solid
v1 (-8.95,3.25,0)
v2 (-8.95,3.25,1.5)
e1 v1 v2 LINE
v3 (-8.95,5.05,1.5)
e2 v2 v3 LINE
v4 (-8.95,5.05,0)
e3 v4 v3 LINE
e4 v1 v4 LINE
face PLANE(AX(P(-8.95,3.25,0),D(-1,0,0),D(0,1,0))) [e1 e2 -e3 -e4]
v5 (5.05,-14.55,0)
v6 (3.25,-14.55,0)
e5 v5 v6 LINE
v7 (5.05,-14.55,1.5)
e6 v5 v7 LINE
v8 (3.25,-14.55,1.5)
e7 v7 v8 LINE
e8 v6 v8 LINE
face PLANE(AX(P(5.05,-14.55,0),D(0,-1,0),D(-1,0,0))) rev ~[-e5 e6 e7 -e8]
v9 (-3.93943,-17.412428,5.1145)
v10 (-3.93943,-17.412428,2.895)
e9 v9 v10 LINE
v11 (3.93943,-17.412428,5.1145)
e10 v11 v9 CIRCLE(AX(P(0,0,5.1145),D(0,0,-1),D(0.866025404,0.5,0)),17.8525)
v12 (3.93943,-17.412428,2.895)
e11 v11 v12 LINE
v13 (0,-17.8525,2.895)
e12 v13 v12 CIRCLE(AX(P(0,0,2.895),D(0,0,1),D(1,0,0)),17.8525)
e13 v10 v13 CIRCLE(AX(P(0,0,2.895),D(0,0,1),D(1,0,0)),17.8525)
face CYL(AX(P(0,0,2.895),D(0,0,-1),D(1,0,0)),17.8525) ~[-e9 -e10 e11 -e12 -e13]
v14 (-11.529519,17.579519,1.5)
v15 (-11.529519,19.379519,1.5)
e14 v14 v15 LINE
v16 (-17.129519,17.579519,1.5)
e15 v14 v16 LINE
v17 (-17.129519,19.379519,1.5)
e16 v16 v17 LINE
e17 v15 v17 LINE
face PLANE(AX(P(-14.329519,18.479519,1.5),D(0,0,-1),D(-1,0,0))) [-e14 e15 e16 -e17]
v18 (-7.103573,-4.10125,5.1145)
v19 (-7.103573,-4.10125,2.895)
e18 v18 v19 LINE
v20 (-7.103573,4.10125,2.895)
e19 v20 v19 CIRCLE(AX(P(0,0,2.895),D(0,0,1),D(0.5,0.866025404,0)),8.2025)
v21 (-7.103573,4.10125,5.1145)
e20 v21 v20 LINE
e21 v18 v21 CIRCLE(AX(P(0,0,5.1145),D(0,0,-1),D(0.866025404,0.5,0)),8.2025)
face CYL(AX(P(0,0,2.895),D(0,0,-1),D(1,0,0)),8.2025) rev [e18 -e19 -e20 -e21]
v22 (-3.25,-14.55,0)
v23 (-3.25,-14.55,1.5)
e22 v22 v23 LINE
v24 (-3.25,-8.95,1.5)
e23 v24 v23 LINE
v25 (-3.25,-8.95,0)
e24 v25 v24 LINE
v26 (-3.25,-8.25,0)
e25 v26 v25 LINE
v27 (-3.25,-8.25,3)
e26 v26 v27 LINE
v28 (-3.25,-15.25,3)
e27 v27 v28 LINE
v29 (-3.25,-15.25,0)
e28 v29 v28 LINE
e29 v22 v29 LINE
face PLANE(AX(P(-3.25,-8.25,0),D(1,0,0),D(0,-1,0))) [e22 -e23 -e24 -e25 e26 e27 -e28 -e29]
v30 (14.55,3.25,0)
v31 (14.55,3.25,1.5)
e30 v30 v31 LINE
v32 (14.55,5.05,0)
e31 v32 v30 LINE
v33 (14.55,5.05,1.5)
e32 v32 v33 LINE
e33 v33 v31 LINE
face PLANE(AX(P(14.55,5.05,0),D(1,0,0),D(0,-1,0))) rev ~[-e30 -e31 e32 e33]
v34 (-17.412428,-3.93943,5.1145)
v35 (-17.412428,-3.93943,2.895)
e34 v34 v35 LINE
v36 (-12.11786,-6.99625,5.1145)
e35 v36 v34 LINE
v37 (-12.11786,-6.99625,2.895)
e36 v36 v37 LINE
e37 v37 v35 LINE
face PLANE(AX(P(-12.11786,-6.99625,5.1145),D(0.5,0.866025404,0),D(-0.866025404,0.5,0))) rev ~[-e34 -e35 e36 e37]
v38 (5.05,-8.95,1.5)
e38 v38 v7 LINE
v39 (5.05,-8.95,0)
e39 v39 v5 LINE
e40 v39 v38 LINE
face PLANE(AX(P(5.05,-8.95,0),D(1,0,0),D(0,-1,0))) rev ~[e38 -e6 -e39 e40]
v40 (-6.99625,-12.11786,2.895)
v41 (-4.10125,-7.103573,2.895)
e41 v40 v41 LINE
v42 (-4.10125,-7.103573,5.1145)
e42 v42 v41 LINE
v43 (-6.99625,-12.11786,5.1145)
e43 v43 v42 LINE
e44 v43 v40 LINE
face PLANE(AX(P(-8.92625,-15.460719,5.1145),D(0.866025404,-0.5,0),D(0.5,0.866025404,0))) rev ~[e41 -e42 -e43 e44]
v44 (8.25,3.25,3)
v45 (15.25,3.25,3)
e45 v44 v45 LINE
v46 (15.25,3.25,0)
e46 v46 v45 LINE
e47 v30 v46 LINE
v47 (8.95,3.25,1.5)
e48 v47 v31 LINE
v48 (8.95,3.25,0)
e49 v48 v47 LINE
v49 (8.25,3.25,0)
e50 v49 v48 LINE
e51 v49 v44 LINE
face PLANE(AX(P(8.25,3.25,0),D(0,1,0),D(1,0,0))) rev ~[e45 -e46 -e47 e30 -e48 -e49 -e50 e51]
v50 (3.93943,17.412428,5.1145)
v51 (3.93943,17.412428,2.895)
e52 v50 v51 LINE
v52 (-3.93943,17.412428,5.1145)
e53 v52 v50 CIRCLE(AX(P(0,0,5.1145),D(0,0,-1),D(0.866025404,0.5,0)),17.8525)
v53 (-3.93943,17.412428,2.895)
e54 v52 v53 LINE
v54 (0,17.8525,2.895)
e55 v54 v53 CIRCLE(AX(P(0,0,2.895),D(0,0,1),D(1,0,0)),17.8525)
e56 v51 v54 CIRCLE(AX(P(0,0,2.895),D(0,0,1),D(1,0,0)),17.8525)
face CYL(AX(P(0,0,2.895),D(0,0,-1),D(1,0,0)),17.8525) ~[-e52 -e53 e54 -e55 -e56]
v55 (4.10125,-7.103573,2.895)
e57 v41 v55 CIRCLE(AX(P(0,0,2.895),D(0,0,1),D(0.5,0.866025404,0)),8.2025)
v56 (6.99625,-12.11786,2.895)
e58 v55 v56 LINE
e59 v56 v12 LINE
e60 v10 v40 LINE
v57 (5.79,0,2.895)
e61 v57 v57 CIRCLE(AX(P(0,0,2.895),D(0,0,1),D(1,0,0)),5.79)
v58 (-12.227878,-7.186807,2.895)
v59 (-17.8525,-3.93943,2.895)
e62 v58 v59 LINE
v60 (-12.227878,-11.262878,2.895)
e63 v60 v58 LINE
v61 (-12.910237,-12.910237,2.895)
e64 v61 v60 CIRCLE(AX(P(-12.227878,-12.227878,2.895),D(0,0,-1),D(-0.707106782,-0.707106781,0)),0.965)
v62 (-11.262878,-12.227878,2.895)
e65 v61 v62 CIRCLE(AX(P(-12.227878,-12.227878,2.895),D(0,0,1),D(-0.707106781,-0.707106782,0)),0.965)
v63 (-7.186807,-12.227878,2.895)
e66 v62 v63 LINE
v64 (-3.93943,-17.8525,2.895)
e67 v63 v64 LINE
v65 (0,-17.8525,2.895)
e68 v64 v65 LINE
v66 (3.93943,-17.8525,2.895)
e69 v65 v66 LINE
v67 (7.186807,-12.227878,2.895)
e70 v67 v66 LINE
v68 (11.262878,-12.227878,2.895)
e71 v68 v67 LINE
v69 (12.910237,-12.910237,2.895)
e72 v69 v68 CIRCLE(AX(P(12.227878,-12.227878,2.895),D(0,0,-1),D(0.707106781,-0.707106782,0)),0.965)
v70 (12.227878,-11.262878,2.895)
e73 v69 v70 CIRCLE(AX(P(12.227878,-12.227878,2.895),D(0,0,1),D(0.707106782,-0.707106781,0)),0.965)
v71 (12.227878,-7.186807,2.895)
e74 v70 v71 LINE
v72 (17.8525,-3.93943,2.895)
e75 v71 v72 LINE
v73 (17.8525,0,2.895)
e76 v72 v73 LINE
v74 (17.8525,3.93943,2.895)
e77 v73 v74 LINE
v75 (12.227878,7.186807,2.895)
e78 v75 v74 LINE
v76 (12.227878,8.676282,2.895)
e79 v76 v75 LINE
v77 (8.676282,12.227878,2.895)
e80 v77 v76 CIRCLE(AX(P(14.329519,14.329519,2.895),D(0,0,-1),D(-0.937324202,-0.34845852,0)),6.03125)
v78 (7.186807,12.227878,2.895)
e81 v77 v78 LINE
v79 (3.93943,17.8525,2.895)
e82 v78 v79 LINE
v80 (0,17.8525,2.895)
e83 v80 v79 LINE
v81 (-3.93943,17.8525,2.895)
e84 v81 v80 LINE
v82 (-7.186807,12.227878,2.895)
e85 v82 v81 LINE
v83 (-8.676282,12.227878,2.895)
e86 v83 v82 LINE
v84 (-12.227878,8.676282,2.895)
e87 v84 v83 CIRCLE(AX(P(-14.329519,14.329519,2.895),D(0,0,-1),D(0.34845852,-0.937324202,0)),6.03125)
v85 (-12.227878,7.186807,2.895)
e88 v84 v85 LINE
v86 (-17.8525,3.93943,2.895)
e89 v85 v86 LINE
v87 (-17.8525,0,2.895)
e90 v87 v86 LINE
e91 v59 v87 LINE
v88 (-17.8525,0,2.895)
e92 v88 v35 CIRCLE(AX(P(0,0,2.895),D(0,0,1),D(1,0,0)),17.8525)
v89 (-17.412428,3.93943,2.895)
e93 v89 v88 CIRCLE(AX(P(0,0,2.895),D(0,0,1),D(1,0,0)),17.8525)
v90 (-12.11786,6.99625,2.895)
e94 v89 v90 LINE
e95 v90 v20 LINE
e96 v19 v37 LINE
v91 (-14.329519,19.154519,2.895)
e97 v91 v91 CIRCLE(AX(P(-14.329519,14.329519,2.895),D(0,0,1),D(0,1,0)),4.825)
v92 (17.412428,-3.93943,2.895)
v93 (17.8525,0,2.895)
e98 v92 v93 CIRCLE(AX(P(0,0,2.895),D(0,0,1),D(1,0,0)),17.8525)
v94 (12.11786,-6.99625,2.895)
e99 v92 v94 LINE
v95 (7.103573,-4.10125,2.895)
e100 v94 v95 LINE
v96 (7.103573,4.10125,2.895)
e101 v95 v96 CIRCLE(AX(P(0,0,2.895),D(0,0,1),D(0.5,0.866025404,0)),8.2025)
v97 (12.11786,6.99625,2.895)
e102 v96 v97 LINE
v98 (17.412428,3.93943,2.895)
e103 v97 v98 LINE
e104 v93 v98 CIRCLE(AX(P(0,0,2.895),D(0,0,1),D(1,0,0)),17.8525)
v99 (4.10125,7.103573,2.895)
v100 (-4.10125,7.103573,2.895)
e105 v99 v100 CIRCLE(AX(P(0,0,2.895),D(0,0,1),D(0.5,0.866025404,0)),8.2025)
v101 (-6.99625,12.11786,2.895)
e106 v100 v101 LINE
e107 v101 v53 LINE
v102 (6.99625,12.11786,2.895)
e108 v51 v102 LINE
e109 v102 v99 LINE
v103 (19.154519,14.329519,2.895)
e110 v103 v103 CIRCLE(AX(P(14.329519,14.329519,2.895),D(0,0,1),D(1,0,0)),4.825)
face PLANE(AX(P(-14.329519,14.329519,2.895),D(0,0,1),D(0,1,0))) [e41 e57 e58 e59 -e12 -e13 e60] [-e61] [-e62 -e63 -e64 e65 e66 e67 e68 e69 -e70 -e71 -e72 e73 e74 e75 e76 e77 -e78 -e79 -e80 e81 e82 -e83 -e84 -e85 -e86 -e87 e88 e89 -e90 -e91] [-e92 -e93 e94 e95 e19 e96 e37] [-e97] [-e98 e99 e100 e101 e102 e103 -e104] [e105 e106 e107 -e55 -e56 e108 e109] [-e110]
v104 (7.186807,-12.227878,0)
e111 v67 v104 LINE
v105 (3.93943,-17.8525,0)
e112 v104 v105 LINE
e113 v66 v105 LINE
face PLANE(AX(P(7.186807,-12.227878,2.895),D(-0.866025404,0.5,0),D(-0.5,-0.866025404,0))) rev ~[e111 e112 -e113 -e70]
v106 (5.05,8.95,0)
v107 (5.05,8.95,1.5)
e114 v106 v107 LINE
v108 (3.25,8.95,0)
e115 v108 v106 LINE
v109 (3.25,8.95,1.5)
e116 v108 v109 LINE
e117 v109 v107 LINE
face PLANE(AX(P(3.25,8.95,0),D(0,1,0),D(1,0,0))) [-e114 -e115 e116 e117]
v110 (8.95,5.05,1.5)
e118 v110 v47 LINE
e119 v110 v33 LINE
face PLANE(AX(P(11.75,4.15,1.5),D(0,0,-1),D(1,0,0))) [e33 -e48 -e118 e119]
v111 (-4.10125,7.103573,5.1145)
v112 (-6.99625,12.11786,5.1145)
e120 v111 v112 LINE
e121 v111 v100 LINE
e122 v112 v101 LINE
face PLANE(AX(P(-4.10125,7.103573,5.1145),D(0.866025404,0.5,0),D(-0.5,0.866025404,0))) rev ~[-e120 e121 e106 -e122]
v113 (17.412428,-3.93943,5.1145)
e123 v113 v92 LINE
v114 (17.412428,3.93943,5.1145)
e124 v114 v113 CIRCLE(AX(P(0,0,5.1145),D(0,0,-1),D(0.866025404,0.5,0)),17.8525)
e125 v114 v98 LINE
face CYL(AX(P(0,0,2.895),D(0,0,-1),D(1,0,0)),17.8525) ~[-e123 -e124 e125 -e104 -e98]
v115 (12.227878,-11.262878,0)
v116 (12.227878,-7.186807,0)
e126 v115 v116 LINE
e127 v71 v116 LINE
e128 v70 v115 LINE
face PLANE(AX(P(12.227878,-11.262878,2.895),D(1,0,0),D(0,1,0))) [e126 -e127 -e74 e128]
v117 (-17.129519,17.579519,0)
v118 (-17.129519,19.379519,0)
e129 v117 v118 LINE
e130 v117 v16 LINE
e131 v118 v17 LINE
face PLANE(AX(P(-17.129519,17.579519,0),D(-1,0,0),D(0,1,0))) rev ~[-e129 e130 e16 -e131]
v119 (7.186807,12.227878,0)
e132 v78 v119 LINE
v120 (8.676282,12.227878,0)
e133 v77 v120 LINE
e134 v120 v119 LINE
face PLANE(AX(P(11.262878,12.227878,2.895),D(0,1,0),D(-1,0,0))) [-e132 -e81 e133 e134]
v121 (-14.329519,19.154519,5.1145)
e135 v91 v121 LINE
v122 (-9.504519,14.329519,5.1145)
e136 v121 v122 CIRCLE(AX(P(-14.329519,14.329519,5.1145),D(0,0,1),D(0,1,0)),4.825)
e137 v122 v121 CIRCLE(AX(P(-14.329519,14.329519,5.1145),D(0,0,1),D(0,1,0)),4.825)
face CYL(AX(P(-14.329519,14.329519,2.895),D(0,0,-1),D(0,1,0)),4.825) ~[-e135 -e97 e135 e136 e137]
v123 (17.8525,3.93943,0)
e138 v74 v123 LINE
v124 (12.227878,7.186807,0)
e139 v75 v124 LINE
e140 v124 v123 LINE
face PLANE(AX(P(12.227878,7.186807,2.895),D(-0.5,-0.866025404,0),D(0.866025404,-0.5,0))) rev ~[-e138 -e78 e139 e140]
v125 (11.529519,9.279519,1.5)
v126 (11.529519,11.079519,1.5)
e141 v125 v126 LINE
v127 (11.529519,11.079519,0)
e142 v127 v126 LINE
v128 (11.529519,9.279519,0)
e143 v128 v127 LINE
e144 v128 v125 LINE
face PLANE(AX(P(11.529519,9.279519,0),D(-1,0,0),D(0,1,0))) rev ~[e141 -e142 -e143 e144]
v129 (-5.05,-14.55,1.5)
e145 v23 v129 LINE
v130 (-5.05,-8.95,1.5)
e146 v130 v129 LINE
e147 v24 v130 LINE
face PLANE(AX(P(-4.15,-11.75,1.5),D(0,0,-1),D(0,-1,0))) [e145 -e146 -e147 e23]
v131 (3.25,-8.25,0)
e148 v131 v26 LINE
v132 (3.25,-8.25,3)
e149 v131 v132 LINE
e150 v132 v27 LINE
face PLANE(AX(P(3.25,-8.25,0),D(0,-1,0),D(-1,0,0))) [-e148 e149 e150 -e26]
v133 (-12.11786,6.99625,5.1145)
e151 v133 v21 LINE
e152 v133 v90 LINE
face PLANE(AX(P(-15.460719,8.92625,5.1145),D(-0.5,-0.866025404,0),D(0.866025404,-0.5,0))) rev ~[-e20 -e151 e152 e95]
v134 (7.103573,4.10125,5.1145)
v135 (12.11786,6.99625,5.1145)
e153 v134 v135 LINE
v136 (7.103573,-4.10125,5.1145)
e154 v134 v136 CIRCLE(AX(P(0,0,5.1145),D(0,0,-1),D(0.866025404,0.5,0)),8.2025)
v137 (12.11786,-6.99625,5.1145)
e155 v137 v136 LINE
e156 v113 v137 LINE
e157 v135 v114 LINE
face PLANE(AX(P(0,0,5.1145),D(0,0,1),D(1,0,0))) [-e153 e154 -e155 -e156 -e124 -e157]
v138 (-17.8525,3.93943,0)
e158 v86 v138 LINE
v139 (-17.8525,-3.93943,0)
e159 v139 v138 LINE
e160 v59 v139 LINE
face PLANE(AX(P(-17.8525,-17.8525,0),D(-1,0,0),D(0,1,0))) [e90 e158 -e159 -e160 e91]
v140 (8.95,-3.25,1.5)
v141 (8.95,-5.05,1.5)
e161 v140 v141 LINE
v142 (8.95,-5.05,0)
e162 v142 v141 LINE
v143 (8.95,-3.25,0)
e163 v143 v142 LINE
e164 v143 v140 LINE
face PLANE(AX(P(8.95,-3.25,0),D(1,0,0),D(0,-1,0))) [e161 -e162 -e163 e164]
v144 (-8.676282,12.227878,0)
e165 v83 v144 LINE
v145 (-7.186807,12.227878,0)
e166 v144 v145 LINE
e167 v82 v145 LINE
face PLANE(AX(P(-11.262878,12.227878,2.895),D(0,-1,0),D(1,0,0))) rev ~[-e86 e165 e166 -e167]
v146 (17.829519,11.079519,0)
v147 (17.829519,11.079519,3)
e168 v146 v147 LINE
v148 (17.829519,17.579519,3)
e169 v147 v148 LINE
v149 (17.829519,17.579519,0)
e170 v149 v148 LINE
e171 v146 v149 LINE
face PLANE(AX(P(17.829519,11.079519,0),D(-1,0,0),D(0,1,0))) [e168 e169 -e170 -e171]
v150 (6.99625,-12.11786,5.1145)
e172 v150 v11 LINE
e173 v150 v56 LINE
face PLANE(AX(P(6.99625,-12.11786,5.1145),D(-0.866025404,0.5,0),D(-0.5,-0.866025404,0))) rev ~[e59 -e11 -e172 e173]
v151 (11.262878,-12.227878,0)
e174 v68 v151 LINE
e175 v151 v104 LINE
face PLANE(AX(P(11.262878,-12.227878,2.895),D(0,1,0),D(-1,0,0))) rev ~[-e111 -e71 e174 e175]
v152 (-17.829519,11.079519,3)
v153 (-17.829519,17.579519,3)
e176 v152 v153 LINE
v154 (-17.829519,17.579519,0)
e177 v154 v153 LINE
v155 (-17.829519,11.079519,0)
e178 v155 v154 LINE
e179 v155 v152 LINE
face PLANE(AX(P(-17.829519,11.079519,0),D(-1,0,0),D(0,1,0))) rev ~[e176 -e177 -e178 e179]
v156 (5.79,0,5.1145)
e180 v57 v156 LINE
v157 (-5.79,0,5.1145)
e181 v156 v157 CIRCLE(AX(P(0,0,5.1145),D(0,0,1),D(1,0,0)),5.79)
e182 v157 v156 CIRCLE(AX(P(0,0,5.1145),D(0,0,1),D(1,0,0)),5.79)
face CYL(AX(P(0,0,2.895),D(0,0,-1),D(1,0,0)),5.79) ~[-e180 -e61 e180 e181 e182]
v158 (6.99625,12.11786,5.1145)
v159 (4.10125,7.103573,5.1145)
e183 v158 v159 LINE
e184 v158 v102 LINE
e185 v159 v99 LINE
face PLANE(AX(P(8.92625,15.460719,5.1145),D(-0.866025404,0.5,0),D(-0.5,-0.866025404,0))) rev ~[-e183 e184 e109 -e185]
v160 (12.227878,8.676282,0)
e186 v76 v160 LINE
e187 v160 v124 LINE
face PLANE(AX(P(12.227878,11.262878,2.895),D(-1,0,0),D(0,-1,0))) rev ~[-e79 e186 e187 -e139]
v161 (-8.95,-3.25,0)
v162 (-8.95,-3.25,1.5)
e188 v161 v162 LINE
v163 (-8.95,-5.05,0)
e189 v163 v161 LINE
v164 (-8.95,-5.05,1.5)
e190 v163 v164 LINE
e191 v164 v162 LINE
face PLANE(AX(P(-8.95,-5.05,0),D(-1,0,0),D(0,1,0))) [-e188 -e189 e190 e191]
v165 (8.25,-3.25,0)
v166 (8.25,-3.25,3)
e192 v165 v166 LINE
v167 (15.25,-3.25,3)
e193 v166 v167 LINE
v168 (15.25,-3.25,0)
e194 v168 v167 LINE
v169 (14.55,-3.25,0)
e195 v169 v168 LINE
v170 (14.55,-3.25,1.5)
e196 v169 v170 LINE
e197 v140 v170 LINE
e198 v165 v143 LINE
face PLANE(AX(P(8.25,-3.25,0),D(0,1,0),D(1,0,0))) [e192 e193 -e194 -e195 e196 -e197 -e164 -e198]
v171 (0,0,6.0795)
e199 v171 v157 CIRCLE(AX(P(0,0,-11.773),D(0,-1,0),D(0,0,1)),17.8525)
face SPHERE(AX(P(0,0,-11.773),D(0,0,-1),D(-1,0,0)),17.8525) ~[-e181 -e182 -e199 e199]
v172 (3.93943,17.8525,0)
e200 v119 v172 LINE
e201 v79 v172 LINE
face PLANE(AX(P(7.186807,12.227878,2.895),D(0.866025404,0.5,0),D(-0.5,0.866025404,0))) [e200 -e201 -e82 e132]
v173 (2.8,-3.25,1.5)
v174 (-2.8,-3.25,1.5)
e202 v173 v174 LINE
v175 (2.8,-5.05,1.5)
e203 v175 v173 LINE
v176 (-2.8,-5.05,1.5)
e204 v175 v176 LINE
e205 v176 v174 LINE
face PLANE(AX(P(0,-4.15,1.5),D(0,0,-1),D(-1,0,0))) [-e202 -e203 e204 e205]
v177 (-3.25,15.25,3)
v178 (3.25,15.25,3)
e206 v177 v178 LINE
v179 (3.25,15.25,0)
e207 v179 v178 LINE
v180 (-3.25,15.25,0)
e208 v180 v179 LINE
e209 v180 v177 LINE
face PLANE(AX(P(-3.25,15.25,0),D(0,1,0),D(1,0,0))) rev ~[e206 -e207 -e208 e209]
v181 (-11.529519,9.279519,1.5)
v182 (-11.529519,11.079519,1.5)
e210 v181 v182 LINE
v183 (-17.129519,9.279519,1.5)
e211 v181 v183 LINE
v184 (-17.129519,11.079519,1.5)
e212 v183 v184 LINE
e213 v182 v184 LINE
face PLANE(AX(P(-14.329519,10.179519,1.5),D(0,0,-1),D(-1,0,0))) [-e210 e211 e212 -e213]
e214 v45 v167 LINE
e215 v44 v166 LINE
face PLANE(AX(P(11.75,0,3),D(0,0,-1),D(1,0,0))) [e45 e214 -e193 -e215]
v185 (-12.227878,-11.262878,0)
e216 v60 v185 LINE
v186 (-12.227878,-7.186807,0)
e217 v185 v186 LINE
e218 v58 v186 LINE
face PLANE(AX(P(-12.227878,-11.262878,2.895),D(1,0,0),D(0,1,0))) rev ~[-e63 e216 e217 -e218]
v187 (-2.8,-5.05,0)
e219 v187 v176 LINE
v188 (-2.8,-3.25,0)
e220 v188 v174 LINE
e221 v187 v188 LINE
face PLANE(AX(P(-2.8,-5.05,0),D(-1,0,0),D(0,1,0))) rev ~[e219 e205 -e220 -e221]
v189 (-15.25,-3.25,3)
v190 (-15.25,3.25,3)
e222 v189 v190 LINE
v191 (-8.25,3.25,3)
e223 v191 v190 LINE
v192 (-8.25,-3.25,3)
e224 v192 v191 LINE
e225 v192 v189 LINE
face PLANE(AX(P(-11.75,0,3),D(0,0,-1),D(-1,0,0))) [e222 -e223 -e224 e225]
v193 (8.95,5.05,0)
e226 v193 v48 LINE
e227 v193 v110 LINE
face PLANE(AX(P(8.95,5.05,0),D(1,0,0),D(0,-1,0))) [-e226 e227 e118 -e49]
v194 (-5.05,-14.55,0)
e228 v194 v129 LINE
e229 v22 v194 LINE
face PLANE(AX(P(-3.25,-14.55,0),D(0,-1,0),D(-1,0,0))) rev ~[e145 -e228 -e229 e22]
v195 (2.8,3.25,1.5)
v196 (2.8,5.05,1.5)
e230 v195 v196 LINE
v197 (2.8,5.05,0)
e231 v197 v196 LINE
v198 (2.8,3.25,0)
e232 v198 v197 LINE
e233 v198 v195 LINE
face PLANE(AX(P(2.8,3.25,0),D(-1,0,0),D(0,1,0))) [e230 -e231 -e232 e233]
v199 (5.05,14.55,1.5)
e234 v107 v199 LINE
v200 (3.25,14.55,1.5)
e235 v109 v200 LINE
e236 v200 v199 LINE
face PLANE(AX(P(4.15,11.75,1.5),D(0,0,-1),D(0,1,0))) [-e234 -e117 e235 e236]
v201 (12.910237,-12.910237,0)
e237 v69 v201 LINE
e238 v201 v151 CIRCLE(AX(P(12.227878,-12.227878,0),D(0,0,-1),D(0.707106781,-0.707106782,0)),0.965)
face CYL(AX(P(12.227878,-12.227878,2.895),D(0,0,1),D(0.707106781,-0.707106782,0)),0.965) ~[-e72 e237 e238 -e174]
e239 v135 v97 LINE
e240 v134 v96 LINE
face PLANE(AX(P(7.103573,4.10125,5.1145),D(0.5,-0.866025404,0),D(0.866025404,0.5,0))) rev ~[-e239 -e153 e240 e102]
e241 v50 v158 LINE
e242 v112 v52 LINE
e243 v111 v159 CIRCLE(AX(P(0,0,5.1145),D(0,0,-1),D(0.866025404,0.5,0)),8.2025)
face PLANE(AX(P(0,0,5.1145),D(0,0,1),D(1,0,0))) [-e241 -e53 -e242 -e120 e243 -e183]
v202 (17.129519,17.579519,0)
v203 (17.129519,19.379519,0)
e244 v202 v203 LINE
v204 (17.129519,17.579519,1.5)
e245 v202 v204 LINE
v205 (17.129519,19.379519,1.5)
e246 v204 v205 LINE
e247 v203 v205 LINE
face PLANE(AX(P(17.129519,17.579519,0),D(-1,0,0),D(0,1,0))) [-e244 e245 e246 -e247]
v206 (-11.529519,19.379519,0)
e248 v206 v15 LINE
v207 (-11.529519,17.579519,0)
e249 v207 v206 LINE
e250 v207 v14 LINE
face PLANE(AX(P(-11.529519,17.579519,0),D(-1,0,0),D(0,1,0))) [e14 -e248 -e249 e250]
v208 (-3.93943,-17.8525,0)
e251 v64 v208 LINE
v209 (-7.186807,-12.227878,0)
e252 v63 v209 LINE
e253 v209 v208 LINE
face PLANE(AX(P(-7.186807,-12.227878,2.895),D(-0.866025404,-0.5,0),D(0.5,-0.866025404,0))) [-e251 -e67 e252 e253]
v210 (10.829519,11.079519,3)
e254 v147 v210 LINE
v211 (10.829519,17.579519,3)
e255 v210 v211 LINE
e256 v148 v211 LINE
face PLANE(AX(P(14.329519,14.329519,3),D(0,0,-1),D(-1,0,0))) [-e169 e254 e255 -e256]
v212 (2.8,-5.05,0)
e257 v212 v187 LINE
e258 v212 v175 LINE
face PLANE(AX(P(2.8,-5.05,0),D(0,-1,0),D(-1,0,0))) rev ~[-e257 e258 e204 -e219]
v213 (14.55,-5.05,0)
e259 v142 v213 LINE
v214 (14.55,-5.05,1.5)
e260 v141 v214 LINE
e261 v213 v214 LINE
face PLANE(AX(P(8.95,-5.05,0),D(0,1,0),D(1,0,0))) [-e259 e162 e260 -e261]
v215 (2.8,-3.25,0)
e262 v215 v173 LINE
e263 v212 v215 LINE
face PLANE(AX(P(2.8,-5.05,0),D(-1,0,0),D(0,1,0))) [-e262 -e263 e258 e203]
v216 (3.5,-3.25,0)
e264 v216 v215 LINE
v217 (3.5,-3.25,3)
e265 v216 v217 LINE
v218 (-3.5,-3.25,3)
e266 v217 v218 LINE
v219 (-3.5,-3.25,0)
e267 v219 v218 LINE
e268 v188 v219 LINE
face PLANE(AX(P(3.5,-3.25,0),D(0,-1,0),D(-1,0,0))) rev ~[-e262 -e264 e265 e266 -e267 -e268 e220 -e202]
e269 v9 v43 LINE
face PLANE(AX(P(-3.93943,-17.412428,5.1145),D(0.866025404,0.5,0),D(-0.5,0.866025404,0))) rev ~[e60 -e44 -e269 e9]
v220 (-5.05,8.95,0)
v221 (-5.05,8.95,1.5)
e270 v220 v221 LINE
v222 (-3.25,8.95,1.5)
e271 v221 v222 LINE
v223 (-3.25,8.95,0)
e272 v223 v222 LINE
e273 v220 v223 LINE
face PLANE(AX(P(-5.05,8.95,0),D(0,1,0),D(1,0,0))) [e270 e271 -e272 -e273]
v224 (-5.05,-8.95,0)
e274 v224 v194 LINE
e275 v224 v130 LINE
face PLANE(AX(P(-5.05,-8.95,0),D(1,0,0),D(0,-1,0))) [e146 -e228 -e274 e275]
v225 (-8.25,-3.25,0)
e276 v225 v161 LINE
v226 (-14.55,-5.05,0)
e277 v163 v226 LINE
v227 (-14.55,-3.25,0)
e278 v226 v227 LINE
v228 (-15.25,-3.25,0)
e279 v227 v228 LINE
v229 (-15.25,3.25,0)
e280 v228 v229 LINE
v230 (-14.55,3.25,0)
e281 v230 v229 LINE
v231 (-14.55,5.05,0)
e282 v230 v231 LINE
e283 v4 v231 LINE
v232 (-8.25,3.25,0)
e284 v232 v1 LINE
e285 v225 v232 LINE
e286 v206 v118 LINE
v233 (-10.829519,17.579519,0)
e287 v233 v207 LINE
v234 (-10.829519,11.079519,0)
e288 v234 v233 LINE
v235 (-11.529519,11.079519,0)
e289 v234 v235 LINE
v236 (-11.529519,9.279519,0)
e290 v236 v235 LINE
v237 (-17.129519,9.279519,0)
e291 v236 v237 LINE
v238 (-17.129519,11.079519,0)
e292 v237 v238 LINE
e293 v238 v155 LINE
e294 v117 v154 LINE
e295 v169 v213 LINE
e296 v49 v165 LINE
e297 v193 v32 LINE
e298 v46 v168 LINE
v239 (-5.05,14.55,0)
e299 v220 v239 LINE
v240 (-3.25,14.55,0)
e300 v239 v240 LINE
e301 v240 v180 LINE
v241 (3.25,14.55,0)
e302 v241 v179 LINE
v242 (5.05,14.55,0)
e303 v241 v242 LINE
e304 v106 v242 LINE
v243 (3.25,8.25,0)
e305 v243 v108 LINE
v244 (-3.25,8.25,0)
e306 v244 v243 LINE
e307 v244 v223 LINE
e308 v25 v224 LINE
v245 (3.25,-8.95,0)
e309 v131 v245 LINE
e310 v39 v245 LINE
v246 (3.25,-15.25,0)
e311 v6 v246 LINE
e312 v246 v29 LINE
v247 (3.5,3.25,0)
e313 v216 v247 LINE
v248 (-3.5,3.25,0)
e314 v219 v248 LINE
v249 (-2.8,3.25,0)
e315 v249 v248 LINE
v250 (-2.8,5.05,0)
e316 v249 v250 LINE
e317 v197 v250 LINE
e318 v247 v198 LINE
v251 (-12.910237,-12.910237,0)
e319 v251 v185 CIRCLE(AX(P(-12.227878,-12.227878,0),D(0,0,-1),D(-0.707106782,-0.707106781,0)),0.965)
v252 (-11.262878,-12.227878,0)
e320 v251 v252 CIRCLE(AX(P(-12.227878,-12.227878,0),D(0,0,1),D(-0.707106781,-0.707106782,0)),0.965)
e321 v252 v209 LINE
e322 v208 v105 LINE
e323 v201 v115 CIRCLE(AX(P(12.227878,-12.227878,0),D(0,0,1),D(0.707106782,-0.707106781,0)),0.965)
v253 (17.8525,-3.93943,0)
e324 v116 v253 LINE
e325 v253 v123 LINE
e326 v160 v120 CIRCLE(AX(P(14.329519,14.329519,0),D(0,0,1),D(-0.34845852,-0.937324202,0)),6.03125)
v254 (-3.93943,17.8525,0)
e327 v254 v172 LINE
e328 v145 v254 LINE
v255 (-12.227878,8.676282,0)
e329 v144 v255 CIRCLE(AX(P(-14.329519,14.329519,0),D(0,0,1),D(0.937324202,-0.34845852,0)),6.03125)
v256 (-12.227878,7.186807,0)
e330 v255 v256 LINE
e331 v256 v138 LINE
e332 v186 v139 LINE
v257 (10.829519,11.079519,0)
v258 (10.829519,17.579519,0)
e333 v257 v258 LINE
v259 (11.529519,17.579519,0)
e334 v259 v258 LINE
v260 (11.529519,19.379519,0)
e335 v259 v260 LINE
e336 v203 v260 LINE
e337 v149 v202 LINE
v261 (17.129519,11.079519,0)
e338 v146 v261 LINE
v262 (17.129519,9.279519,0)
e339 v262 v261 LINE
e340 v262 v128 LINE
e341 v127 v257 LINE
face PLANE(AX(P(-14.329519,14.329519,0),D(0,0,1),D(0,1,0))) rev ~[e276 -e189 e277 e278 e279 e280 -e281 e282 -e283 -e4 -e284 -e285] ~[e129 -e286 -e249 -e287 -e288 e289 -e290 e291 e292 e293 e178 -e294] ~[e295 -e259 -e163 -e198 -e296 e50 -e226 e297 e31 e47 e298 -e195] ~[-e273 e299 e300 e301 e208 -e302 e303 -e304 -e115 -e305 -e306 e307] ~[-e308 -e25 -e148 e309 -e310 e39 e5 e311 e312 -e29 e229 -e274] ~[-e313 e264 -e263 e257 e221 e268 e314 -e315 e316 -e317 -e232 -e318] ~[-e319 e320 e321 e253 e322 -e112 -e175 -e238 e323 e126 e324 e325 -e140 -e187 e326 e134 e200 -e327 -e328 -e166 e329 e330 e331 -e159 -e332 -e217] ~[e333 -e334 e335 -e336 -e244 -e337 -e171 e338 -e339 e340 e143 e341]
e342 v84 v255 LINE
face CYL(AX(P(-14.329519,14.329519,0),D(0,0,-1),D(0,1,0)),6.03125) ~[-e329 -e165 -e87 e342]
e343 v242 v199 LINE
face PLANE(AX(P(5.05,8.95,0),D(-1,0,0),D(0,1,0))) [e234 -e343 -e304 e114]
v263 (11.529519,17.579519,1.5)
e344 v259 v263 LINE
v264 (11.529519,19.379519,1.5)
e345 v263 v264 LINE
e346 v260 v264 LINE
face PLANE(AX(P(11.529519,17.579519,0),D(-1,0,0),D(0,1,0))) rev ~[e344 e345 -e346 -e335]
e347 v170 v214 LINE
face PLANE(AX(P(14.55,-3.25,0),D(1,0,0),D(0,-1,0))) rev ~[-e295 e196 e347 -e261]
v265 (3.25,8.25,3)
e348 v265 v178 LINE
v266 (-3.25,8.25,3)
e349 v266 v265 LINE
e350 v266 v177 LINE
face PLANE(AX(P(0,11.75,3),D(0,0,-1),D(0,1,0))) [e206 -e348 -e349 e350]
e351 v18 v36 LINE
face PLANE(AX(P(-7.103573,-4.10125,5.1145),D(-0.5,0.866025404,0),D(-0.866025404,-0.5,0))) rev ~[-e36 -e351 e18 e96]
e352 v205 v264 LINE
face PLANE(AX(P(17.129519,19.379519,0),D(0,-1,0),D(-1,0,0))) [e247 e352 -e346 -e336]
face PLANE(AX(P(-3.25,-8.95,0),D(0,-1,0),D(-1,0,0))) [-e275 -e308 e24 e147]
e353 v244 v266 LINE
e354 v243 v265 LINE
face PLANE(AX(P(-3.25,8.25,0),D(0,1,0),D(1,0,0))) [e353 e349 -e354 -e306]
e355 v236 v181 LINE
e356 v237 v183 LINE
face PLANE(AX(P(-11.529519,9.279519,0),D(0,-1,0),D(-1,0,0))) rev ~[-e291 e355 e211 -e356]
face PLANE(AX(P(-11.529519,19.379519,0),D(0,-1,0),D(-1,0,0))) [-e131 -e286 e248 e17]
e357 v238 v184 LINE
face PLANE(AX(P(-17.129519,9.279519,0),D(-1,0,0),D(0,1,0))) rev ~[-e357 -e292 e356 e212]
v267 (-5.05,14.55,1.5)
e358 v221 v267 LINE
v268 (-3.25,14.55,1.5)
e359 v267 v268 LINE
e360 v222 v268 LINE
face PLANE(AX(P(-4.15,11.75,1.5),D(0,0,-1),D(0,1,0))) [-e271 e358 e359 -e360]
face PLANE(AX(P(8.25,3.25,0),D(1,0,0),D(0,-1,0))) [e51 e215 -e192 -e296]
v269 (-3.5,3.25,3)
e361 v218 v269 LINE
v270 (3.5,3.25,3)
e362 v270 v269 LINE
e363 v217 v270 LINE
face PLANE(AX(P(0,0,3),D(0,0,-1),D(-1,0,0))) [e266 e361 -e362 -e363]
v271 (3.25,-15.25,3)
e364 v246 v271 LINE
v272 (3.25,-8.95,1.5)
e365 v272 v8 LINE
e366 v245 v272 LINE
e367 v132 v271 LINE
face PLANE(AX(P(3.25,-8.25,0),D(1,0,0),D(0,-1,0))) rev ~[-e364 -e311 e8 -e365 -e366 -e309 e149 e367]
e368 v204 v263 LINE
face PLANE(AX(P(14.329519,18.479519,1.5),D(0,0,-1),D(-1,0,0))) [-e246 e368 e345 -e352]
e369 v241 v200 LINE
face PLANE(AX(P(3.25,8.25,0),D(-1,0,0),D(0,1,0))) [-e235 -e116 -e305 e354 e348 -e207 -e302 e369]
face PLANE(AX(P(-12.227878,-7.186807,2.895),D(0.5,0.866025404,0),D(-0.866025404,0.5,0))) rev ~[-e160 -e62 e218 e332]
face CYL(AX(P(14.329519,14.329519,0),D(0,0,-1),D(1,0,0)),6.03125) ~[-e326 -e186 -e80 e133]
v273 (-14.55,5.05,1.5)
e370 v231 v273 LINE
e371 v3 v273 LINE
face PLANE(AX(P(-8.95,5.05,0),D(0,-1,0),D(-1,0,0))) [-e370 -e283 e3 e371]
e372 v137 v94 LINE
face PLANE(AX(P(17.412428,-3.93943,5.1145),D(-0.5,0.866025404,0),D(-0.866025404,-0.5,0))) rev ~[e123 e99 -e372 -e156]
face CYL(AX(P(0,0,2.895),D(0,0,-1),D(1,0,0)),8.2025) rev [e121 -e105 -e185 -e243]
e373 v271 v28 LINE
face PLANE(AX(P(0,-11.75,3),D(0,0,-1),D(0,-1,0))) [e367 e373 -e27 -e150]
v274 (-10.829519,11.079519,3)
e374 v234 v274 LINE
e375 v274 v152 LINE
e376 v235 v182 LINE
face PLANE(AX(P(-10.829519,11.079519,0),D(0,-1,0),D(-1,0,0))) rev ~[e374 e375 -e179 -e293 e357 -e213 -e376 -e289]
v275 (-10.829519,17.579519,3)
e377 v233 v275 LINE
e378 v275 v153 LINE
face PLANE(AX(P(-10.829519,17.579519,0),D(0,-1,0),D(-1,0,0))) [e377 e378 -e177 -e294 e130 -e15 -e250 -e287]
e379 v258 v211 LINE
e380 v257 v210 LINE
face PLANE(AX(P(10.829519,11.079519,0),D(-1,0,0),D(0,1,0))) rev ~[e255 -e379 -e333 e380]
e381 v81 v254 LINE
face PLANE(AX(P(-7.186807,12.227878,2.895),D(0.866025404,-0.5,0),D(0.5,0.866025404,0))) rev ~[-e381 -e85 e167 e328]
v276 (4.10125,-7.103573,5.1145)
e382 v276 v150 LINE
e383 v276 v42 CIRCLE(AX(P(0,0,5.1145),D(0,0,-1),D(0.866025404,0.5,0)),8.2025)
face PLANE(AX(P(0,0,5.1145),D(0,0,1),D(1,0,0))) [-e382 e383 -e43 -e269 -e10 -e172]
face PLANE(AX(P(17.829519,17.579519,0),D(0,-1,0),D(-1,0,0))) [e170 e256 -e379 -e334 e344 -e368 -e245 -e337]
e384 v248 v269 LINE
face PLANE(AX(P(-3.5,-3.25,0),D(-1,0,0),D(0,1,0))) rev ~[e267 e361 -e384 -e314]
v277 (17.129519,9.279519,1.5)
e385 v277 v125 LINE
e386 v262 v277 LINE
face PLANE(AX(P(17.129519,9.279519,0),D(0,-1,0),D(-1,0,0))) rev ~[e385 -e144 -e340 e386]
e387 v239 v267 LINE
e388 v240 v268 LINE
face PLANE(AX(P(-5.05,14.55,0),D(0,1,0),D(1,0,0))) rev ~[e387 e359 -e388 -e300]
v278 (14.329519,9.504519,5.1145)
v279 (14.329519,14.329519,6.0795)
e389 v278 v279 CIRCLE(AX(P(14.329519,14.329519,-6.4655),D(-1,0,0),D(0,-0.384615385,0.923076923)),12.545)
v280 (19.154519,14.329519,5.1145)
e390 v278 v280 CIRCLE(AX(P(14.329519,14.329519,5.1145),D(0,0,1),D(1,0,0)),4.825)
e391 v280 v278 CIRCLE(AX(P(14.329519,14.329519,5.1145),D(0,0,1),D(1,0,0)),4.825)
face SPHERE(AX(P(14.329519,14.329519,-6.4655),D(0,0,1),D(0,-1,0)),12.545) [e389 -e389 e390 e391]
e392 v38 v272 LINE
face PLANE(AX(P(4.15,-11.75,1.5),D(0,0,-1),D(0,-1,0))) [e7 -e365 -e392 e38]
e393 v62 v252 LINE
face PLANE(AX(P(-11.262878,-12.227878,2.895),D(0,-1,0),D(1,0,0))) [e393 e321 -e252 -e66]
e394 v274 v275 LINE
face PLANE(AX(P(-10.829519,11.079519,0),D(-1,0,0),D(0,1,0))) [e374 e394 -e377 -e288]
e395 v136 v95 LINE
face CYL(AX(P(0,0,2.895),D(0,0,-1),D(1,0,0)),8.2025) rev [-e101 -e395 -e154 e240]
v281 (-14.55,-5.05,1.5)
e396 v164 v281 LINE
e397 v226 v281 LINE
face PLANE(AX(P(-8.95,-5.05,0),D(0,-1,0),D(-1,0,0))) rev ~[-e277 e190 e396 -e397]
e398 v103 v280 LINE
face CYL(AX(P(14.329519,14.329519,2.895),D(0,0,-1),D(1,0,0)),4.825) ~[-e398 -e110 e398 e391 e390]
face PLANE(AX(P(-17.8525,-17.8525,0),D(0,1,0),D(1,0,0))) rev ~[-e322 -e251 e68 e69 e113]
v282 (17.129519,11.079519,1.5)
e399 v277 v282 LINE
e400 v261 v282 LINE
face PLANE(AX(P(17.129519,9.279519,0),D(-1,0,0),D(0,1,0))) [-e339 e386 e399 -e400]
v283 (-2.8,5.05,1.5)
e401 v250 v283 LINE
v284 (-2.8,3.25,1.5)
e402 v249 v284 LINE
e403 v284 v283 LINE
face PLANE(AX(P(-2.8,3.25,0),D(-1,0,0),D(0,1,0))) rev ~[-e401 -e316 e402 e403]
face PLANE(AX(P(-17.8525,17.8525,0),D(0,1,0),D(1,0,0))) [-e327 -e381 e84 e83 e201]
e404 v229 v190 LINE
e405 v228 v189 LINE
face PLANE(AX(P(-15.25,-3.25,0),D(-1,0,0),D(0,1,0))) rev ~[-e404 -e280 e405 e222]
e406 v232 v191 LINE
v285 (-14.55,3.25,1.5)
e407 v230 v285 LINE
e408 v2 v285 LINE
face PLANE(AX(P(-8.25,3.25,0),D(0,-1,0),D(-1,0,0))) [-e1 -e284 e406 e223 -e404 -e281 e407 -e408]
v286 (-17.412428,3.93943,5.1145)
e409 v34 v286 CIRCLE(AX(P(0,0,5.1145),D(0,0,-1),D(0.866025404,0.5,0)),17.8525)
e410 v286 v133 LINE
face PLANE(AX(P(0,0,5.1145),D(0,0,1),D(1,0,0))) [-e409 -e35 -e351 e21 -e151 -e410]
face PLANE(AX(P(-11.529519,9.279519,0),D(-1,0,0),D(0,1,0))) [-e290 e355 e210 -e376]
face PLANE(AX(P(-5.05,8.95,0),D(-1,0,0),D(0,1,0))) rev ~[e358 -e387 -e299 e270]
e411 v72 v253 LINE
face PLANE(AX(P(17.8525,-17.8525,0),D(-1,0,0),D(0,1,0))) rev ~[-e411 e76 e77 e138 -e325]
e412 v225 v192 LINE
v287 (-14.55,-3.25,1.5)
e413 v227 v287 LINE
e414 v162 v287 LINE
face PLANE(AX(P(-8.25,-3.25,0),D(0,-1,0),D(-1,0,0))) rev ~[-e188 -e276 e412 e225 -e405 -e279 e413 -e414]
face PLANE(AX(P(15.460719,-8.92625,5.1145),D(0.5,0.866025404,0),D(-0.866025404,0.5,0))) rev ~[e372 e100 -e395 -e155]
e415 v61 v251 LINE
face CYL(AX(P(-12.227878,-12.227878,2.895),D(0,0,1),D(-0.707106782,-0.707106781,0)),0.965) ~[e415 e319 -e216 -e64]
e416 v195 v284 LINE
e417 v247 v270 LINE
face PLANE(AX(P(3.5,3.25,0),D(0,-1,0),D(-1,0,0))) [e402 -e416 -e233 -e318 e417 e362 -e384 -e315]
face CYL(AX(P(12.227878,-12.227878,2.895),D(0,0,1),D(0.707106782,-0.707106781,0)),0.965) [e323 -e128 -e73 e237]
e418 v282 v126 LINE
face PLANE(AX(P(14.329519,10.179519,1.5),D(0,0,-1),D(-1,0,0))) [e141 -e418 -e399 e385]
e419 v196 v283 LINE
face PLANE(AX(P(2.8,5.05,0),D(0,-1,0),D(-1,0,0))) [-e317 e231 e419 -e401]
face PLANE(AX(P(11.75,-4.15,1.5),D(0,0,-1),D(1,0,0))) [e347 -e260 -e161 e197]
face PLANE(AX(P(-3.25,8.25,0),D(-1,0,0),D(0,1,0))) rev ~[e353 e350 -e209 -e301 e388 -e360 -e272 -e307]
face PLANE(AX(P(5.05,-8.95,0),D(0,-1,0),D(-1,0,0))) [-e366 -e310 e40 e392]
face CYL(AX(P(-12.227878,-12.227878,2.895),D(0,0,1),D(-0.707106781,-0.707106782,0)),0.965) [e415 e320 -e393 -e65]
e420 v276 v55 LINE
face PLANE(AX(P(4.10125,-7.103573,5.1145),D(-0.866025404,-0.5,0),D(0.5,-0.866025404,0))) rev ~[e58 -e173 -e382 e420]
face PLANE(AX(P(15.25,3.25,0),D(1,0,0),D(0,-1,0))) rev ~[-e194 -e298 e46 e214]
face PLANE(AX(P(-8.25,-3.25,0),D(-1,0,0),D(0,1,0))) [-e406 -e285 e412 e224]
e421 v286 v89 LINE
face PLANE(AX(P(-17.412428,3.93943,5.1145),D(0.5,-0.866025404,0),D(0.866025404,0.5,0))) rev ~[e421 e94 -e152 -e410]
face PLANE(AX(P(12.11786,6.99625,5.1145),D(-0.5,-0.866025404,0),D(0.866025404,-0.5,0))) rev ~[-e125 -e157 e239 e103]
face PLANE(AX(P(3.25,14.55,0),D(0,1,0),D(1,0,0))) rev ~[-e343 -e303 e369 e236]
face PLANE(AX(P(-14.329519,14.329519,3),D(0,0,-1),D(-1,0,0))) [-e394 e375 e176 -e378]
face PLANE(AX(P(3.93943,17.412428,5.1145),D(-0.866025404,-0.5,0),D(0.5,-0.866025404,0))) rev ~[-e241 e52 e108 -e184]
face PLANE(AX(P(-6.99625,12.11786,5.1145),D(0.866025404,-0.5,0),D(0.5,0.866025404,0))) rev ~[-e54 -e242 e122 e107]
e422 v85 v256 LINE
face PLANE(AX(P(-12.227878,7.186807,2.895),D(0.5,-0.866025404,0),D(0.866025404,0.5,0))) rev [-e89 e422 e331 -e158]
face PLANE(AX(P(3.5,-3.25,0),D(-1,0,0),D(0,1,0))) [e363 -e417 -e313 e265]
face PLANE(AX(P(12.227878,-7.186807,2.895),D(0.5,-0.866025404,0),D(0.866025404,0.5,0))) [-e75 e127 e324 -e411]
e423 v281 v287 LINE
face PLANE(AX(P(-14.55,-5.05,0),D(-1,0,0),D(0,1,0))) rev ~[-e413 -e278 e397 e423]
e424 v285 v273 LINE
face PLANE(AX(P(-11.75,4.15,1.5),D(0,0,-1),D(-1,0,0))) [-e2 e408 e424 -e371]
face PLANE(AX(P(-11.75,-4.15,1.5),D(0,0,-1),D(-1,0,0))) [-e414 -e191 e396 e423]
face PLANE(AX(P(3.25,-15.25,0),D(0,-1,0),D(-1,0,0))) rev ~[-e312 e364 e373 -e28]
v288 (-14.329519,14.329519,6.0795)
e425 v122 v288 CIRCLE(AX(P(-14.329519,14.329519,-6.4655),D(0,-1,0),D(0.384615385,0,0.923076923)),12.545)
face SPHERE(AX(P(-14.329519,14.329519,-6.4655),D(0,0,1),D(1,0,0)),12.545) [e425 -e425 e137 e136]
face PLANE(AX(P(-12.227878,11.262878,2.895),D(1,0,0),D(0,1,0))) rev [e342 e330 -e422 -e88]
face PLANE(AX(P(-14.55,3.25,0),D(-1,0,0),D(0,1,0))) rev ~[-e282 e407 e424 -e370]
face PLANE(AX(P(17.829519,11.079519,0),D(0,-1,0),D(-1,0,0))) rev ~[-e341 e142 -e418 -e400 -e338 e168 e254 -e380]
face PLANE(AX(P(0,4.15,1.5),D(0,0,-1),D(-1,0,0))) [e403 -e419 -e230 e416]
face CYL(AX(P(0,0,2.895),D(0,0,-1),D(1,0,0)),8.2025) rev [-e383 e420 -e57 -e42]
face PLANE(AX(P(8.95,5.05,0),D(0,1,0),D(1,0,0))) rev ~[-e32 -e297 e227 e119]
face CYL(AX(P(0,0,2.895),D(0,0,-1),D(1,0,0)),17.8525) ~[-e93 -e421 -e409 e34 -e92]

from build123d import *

# Parameters (mm, degrees)
SKETCH2_W            = 37
SKETCH2_H            = 37
BOSS_EXTRUDE1_DEPTH  = 3
SKETCH3_R            = 6
BOSS_EXTRUDE2_DEPTH  = 2.3
SKETCH6_R            = 18.5
SKETCH6_R_2          = 8.5
BOSS_EXTRUDE3_DEPTH  = 2.3
CUT_EXTRUDE2_DEPTH   = 2.3
CIRPATTERN1_COUNT    = 4
CUT_EXTRUDE3_DEPTH   = 2.3
CIRPATTERN2_COUNT    = 4
CUT_EXTRUDE5_DEPTH   = 3
CIRPATTERN7_COUNT    = 4
MIRROR2_COPY_1_DEPTH = 3
MIRROR2_COPY_2_DEPTH = 3
MIRROR2_COPY_3_DEPTH = 3
SKETCH11_R           = 6.25
BOSS_EXTRUDE4_DEPTH  = 3
CIRPATTERN9_COUNT    = 2
CIRPATTERN9_ANGLE    = 90
SKETCH12_R           = 5
BOSS_EXTRUDE5_DEPTH  = 2.3
CIRPATTERN10_COUNT   = 2
CIRPATTERN10_ANGLE   = 90
CIRPATTERN11_COUNT   = 2
CIRPATTERN11_ANGLE   = 90
SCALE1_SCALE         = 0.965
SKETCH19_W           = 7
SKETCH19_H           = 6.5
CUT_EXTRUDE6_DEPTH   = 3
SKETCH20_W           = 5.6
SKETCH20_H           = 1.8
CUT_EXTRUDE7_DEPTH   = 1.5
SKETCH28_W           = 7
SKETCH28_H           = 6.5
CUT_EXTRUDE10_DEPTH  = 3
SKETCH30_W           = 5.6
SKETCH30_H           = 1.8
CUT_EXTRUDE11_DEPTH  = 1.5
CIRPATTERN12_COUNT   = 4
SKETCH33_W           = 7
SKETCH33_H           = 6.5
CUT_EXTRUDE12_DEPTH  = 3
SKETCH35_W           = 5.6
SKETCH35_H           = 1.8
CUT_EXTRUDE13_DEPTH  = 1.5
SKETCH37_W           = 7
SKETCH37_H           = 6.5
CUT_EXTRUDE14_DEPTH  = 3
SKETCH39_W           = 5.6
SKETCH39_H           = 1.8
CUT_EXTRUDE15_DEPTH  = 1.5


with BuildPart() as part:
    # Sketch2 → Boss-Extrude1 (new body)
    with BuildSketch(Plane.XY):
        Rectangle(SKETCH2_W, SKETCH2_H)
    extrude(amount=BOSS_EXTRUDE1_DEPTH)

    # Sketch3 → Boss-Extrude2 (add)
    with BuildSketch(Plane.XY.offset(3)):
        Circle(SKETCH3_R)
    extrude(amount=BOSS_EXTRUDE2_DEPTH)

    # Sketch5 → Revolve1 (revolve)
    with BuildSketch(Plane(origin=(0, 0, 0), x_dir=(-1, 0, 0), z_dir=(0, -1, 0))):
        with BuildLine():
            Line((6, -5.3), (0, -5.3))
            Line((0, -5.3), (0, -6.3))
            ThreePointArc((0, -6.3), (3.041381265, -6.048287591), (6, -5.3))
        make_face()
    revolve(axis=Axis((0, 0, 5.3), (0, 0, 1)))

    # Sketch6 → Boss-Extrude3 (add)
    with BuildSketch(Plane.XY.offset(3)):
        Circle(SKETCH6_R)
        Circle(SKETCH6_R_2, mode=Mode.SUBTRACT)
    extrude(amount=BOSS_EXTRUDE3_DEPTH)

    # Sketch8 → Cut-Extrude2 (cut)
    with BuildSketch(Plane.XY.offset(5.3)):
        with BuildLine():
            ThreePointArc((4.25, 7.361215932), (6.01040764, 6.01040764), (7.361215932, 4.25))
            Line((7.361215932, 4.25), (16.02146997, 9.25))
            ThreePointArc((16.02146997, 9.25), (13.081475452, 13.081475452), (9.25, 16.02146997))
            Line((9.25, 16.02146997), (4.25, 7.361215932))
        make_face()
    cut_extrude2 = extrude(amount=-CUT_EXTRUDE2_DEPTH, mode=Mode.SUBTRACT)

    # CirPattern1: Cut-Extrude2 ×4 about axis
    cirpattern1_axis = Axis((0, 0, 5.3), (0, 0, 1))
    for i in range(1, CIRPATTERN1_COUNT):
        add(cut_extrude2.rotate(cirpattern1_axis, i * 360 / CIRPATTERN1_COUNT), mode=Mode.SUBTRACT)

    # Sketch9 → Cut-Extrude3 (cut)
    with BuildSketch(Plane.XY.offset(5.3)):
        with BuildLine():
            Line((16.02146997, 9.25), (12.557368355, 7.25))
            Line((12.557368355, 7.25), (18.043966792, 4.082310915))
            ThreePointArc((18.043966792, 4.082310915), (17.227586832, 6.742421815), (16.02146997, 9.25))
        make_face()
        with BuildLine():
            Line((18.043966792, -4.082310915), (12.557368355, -7.25))
            Line((12.557368355, -7.25), (16.02146997, -9.25))
            ThreePointArc((16.02146997, -9.25), (17.227586832, -6.742421815), (18.043966792, -4.082310915))
        make_face()
    cut_extrude3 = extrude(amount=-CUT_EXTRUDE3_DEPTH, mode=Mode.SUBTRACT)

    # CirPattern2: Cut-Extrude3 ×4 about axis
    cirpattern2_axis = Axis((0, 0, 0), (0, 0, 1))
    for i in range(1, CIRPATTERN2_COUNT):
        add(cut_extrude3.rotate(cirpattern2_axis, i * 360 / CIRPATTERN2_COUNT), mode=Mode.SUBTRACT)

    # Sketch10 → Cut-Extrude5 (cut)
    with BuildSketch(Plane.XY.offset(3)):
        with BuildLine():
            Line((7.447468172, -12.671376657), (4.082310915, -18.5))
            Line((4.082310915, -18.5), (18.5, -18.5))
            Line((18.5, -18.5), (13.378483438, -13.378483438))
            ThreePointArc((13.378483438, -13.378483438), (12.288693225, -13.595256189), (11.671376657, -12.671376657))
            Line((11.671376657, -12.671376657), (7.447468172, -12.671376657))
        make_face()
    cut_extrude5 = extrude(amount=-CUT_EXTRUDE5_DEPTH, mode=Mode.SUBTRACT)

    # CirPattern7: Cut-Extrude5 ×4 about axis
    cirpattern7_axis = Axis((0, 0, 0), (0, 0, 1))
    for i in range(1, CIRPATTERN7_COUNT):
        add(cut_extrude5.rotate(cirpattern7_axis, i * 360 / CIRPATTERN7_COUNT), mode=Mode.SUBTRACT)

    # Mirror2: Cut-Extrude5 across plane
    add(cut_extrude5.mirror(Plane(origin=(0, 0, 0), x_dir=(0, 0, 1), z_dir=(0.707106781, -0.707106781, 0))), mode=Mode.SUBTRACT)

    # Mirror2 copy 1 sketch → Mirror2 copy 1 (cut)
    with BuildSketch(Plane.XY.offset(3)):
        with BuildLine():
            Line((7.447468172, 12.671376657), (4.082310915, 18.5))
            Line((4.082310915, 18.5), (18.5, 18.5))
            Line((18.5, 18.5), (13.378483438, 13.378483438))
            ThreePointArc((13.378483438, 13.378483438), (12.288693225, 13.595256189), (11.671376657, 12.671376657))
            Line((11.671376657, 12.671376657), (7.447468172, 12.671376657))
        make_face()
    extrude(amount=-MIRROR2_COPY_1_DEPTH, mode=Mode.SUBTRACT)

    # Mirror2 copy 2 sketch → Mirror2 copy 2 (cut)
    with BuildSketch(Plane(origin=(0, 0, 3), x_dir=(0, -1, 0), z_dir=(0, 0, 1))):
        with BuildLine():
            Line((7.447468172, 12.671376657), (4.082310915, 18.5))
            Line((4.082310915, 18.5), (18.5, 18.5))
            Line((18.5, 18.5), (13.378483438, 13.378483438))
            ThreePointArc((13.378483438, 13.378483438), (12.288693225, 13.595256189), (11.671376657, 12.671376657))
            Line((11.671376657, 12.671376657), (7.447468172, 12.671376657))
        make_face()
    extrude(amount=-MIRROR2_COPY_2_DEPTH, mode=Mode.SUBTRACT)

    # Mirror2 copy 3 sketch → Mirror2 copy 3 (cut)
    with BuildSketch(Plane(origin=(0, 0, 3), x_dir=(-1, 0, 0), z_dir=(0, 0, 1))):
        with BuildLine():
            Line((7.447468172, 12.671376657), (4.082310915, 18.5))
            Line((4.082310915, 18.5), (18.5, 18.5))
            Line((18.5, 18.5), (13.378483438, 13.378483438))
            ThreePointArc((13.378483438, 13.378483438), (12.288693225, 13.595256189), (11.671376657, 12.671376657))
            Line((11.671376657, 12.671376657), (7.447468172, 12.671376657))
        make_face()
    extrude(amount=-MIRROR2_COPY_3_DEPTH, mode=Mode.SUBTRACT)

    # Sketch11 → Boss-Extrude4 (add)
    with BuildSketch(Plane.XY):
        with Locations((14.849242405, 14.849242405)):
            Circle(SKETCH11_R)
    boss_extrude4 = extrude(amount=BOSS_EXTRUDE4_DEPTH)

    # CirPattern9: Boss-Extrude4 ×2 about axis
    cirpattern9_axis = Axis((0, 0, 5.3), (0, 0, 1))
    for i in range(1, CIRPATTERN9_COUNT):
        add(boss_extrude4.rotate(cirpattern9_axis, i * CIRPATTERN9_ANGLE / (CIRPATTERN9_COUNT - 1)))

    # Sketch12 → Boss-Extrude5 (add)
    with BuildSketch(Plane.XY.offset(3)):
        with Locations((14.849242405, 14.849242405)):
            Circle(SKETCH12_R)
    boss_extrude5 = extrude(amount=BOSS_EXTRUDE5_DEPTH)

    # Sketch14 → Revolve2 (revolve)
    with BuildSketch(Plane(origin=(14.849242405, 0, 0), x_dir=(0, 0, -1), z_dir=(1, 0, 0))):
        with BuildLine():
            Line((-6.3, 14.849242405), (-5.3, 14.849242405))
            Line((-5.3, 14.849242405), (-5.3, 9.849242405))
            ThreePointArc((-5.3, 9.849242405), (-6.047548784, 12.299732648), (-6.3, 14.849242405))
        make_face()
    revolve2 = revolve(axis=Axis((14.849242405, 14.849242405, 5.3), (0, 0, 1)))

    # CirPattern10: Boss-Extrude5 ×2 about axis
    cirpattern10_axis = Axis((0, 0, 5.3), (0, 0, 1))
    for i in range(1, CIRPATTERN10_COUNT):
        add(boss_extrude5.rotate(cirpattern10_axis, i * CIRPATTERN10_ANGLE / (CIRPATTERN10_COUNT - 1)))

    # CirPattern11: Revolve2 ×2 about axis
    cirpattern11_axis = Axis((0, 0, 5.3), (0, 0, 1))
    for i in range(1, CIRPATTERN11_COUNT):
        add(revolve2.rotate(cirpattern11_axis, i * CIRPATTERN11_ANGLE / (CIRPATTERN11_COUNT - 1)))


with BuildPart() as part_1:
    # Scale1: scaled about (0, 0, 0)
    add(part.part.scale(SCALE1_SCALE))

    # Sketch19 → Cut-Extrude6 (cut)
    with BuildSketch(Plane(origin=(0, 0, 0), x_dir=(-1, 0, 0), z_dir=(0, 0, -1))):
        Rectangle(SKETCH19_W, SKETCH19_H)
    extrude(amount=-CUT_EXTRUDE6_DEPTH, mode=Mode.SUBTRACT)

    # Sketch20 → Cut-Extrude7 (cut)
    with BuildSketch(Plane(origin=(0, 0, 0), x_dir=(-1, 0, 0), z_dir=(0, 0, -1))):
        with Locations((0, 4.15)):
            Rectangle(SKETCH20_W, SKETCH20_H)
        with Locations((0, -4.15)):
            Rectangle(SKETCH20_W, SKETCH20_H)
    extrude(amount=-CUT_EXTRUDE7_DEPTH, mode=Mode.SUBTRACT)

    # Sketch28 → Cut-Extrude10 (cut)
    with BuildSketch(Plane(origin=(-9.998493026, 1.351076982, 0), x_dir=(-1, 0, 0), z_dir=(0, 0, -1))):
        with Locations((1.751506974, -1.351076982)):
            Rectangle(SKETCH28_W, SKETCH28_H)
    cut_extrude10 = extrude(amount=-CUT_EXTRUDE10_DEPTH, mode=Mode.SUBTRACT)

    # Sketch30 → Cut-Extrude11 (cut)
    with BuildSketch(Plane(origin=(-9.998493026, 1.351076982, 0), x_dir=(-1, 0, 0), z_dir=(0, 0, -1))):
        with Locations((1.751506974, 2.798923018)):
            Rectangle(SKETCH30_W, SKETCH30_H)
        with Locations((1.751506974, -5.501076982)):
            Rectangle(SKETCH30_W, SKETCH30_H)
    cut_extrude11 = extrude(amount=-CUT_EXTRUDE11_DEPTH, mode=Mode.SUBTRACT)

    # CirPattern12: Cut-Extrude10, Cut-Extrude11 ×4 about axis
    cirpattern12_axis = Axis((0, 0, 0), (0, 0, 1))
    for i in range(1, CIRPATTERN12_COUNT):
        add(cut_extrude10.rotate(cirpattern12_axis, i * 360 / CIRPATTERN12_COUNT), mode=Mode.SUBTRACT)
        add(cut_extrude11.rotate(cirpattern12_axis, i * 360 / CIRPATTERN12_COUNT), mode=Mode.SUBTRACT)

    # Sketch33 → Cut-Extrude12 (cut)
    with BuildSketch(Plane(origin=(-14.368957264, 14.283753363, 0), x_dir=(-1, 0, 0), z_dir=(0, 0, -1))):
        with Locations((-0.039438343, 0.045765558)):
            Rectangle(SKETCH33_W, SKETCH33_H)
    extrude(amount=-CUT_EXTRUDE12_DEPTH, mode=Mode.SUBTRACT)

    # Sketch35 → Cut-Extrude13 (cut)
    with BuildSketch(Plane(origin=(-14.368957264, 14.283753363, 0), x_dir=(-1, 0, 0), z_dir=(0, 0, -1))):
        with Locations((-0.039438343, 4.195765558)):
            Rectangle(SKETCH35_W, SKETCH35_H)
        with Locations((-0.039438343, -4.104234442)):
            Rectangle(SKETCH35_W, SKETCH35_H)
    extrude(amount=-CUT_EXTRUDE13_DEPTH, mode=Mode.SUBTRACT)

    # Sketch37 → Cut-Extrude14 (cut)
    with BuildSketch(Plane(origin=(13.371321797, 14.128872217, 0), x_dir=(-1, 0, 0), z_dir=(0, 0, -1))):
        with Locations((-0.958197123, 0.200646703)):
            Rectangle(SKETCH37_W, SKETCH37_H)
    extrude(amount=-CUT_EXTRUDE14_DEPTH, mode=Mode.SUBTRACT)

    # Sketch39 → Cut-Extrude15 (cut)
    with BuildSketch(Plane(origin=(13.371321797, 14.128872217, 0), x_dir=(-1, 0, 0), z_dir=(0, 0, -1))):
        with Locations((-0.958197123, 4.350646703)):
            Rectangle(SKETCH39_W, SKETCH39_H)
        with Locations((-0.958197123, -3.949353297)):
            Rectangle(SKETCH39_W, SKETCH39_H)
    extrude(amount=-CUT_EXTRUDE15_DEPTH, mode=Mode.SUBTRACT)


solid = part_1.part
